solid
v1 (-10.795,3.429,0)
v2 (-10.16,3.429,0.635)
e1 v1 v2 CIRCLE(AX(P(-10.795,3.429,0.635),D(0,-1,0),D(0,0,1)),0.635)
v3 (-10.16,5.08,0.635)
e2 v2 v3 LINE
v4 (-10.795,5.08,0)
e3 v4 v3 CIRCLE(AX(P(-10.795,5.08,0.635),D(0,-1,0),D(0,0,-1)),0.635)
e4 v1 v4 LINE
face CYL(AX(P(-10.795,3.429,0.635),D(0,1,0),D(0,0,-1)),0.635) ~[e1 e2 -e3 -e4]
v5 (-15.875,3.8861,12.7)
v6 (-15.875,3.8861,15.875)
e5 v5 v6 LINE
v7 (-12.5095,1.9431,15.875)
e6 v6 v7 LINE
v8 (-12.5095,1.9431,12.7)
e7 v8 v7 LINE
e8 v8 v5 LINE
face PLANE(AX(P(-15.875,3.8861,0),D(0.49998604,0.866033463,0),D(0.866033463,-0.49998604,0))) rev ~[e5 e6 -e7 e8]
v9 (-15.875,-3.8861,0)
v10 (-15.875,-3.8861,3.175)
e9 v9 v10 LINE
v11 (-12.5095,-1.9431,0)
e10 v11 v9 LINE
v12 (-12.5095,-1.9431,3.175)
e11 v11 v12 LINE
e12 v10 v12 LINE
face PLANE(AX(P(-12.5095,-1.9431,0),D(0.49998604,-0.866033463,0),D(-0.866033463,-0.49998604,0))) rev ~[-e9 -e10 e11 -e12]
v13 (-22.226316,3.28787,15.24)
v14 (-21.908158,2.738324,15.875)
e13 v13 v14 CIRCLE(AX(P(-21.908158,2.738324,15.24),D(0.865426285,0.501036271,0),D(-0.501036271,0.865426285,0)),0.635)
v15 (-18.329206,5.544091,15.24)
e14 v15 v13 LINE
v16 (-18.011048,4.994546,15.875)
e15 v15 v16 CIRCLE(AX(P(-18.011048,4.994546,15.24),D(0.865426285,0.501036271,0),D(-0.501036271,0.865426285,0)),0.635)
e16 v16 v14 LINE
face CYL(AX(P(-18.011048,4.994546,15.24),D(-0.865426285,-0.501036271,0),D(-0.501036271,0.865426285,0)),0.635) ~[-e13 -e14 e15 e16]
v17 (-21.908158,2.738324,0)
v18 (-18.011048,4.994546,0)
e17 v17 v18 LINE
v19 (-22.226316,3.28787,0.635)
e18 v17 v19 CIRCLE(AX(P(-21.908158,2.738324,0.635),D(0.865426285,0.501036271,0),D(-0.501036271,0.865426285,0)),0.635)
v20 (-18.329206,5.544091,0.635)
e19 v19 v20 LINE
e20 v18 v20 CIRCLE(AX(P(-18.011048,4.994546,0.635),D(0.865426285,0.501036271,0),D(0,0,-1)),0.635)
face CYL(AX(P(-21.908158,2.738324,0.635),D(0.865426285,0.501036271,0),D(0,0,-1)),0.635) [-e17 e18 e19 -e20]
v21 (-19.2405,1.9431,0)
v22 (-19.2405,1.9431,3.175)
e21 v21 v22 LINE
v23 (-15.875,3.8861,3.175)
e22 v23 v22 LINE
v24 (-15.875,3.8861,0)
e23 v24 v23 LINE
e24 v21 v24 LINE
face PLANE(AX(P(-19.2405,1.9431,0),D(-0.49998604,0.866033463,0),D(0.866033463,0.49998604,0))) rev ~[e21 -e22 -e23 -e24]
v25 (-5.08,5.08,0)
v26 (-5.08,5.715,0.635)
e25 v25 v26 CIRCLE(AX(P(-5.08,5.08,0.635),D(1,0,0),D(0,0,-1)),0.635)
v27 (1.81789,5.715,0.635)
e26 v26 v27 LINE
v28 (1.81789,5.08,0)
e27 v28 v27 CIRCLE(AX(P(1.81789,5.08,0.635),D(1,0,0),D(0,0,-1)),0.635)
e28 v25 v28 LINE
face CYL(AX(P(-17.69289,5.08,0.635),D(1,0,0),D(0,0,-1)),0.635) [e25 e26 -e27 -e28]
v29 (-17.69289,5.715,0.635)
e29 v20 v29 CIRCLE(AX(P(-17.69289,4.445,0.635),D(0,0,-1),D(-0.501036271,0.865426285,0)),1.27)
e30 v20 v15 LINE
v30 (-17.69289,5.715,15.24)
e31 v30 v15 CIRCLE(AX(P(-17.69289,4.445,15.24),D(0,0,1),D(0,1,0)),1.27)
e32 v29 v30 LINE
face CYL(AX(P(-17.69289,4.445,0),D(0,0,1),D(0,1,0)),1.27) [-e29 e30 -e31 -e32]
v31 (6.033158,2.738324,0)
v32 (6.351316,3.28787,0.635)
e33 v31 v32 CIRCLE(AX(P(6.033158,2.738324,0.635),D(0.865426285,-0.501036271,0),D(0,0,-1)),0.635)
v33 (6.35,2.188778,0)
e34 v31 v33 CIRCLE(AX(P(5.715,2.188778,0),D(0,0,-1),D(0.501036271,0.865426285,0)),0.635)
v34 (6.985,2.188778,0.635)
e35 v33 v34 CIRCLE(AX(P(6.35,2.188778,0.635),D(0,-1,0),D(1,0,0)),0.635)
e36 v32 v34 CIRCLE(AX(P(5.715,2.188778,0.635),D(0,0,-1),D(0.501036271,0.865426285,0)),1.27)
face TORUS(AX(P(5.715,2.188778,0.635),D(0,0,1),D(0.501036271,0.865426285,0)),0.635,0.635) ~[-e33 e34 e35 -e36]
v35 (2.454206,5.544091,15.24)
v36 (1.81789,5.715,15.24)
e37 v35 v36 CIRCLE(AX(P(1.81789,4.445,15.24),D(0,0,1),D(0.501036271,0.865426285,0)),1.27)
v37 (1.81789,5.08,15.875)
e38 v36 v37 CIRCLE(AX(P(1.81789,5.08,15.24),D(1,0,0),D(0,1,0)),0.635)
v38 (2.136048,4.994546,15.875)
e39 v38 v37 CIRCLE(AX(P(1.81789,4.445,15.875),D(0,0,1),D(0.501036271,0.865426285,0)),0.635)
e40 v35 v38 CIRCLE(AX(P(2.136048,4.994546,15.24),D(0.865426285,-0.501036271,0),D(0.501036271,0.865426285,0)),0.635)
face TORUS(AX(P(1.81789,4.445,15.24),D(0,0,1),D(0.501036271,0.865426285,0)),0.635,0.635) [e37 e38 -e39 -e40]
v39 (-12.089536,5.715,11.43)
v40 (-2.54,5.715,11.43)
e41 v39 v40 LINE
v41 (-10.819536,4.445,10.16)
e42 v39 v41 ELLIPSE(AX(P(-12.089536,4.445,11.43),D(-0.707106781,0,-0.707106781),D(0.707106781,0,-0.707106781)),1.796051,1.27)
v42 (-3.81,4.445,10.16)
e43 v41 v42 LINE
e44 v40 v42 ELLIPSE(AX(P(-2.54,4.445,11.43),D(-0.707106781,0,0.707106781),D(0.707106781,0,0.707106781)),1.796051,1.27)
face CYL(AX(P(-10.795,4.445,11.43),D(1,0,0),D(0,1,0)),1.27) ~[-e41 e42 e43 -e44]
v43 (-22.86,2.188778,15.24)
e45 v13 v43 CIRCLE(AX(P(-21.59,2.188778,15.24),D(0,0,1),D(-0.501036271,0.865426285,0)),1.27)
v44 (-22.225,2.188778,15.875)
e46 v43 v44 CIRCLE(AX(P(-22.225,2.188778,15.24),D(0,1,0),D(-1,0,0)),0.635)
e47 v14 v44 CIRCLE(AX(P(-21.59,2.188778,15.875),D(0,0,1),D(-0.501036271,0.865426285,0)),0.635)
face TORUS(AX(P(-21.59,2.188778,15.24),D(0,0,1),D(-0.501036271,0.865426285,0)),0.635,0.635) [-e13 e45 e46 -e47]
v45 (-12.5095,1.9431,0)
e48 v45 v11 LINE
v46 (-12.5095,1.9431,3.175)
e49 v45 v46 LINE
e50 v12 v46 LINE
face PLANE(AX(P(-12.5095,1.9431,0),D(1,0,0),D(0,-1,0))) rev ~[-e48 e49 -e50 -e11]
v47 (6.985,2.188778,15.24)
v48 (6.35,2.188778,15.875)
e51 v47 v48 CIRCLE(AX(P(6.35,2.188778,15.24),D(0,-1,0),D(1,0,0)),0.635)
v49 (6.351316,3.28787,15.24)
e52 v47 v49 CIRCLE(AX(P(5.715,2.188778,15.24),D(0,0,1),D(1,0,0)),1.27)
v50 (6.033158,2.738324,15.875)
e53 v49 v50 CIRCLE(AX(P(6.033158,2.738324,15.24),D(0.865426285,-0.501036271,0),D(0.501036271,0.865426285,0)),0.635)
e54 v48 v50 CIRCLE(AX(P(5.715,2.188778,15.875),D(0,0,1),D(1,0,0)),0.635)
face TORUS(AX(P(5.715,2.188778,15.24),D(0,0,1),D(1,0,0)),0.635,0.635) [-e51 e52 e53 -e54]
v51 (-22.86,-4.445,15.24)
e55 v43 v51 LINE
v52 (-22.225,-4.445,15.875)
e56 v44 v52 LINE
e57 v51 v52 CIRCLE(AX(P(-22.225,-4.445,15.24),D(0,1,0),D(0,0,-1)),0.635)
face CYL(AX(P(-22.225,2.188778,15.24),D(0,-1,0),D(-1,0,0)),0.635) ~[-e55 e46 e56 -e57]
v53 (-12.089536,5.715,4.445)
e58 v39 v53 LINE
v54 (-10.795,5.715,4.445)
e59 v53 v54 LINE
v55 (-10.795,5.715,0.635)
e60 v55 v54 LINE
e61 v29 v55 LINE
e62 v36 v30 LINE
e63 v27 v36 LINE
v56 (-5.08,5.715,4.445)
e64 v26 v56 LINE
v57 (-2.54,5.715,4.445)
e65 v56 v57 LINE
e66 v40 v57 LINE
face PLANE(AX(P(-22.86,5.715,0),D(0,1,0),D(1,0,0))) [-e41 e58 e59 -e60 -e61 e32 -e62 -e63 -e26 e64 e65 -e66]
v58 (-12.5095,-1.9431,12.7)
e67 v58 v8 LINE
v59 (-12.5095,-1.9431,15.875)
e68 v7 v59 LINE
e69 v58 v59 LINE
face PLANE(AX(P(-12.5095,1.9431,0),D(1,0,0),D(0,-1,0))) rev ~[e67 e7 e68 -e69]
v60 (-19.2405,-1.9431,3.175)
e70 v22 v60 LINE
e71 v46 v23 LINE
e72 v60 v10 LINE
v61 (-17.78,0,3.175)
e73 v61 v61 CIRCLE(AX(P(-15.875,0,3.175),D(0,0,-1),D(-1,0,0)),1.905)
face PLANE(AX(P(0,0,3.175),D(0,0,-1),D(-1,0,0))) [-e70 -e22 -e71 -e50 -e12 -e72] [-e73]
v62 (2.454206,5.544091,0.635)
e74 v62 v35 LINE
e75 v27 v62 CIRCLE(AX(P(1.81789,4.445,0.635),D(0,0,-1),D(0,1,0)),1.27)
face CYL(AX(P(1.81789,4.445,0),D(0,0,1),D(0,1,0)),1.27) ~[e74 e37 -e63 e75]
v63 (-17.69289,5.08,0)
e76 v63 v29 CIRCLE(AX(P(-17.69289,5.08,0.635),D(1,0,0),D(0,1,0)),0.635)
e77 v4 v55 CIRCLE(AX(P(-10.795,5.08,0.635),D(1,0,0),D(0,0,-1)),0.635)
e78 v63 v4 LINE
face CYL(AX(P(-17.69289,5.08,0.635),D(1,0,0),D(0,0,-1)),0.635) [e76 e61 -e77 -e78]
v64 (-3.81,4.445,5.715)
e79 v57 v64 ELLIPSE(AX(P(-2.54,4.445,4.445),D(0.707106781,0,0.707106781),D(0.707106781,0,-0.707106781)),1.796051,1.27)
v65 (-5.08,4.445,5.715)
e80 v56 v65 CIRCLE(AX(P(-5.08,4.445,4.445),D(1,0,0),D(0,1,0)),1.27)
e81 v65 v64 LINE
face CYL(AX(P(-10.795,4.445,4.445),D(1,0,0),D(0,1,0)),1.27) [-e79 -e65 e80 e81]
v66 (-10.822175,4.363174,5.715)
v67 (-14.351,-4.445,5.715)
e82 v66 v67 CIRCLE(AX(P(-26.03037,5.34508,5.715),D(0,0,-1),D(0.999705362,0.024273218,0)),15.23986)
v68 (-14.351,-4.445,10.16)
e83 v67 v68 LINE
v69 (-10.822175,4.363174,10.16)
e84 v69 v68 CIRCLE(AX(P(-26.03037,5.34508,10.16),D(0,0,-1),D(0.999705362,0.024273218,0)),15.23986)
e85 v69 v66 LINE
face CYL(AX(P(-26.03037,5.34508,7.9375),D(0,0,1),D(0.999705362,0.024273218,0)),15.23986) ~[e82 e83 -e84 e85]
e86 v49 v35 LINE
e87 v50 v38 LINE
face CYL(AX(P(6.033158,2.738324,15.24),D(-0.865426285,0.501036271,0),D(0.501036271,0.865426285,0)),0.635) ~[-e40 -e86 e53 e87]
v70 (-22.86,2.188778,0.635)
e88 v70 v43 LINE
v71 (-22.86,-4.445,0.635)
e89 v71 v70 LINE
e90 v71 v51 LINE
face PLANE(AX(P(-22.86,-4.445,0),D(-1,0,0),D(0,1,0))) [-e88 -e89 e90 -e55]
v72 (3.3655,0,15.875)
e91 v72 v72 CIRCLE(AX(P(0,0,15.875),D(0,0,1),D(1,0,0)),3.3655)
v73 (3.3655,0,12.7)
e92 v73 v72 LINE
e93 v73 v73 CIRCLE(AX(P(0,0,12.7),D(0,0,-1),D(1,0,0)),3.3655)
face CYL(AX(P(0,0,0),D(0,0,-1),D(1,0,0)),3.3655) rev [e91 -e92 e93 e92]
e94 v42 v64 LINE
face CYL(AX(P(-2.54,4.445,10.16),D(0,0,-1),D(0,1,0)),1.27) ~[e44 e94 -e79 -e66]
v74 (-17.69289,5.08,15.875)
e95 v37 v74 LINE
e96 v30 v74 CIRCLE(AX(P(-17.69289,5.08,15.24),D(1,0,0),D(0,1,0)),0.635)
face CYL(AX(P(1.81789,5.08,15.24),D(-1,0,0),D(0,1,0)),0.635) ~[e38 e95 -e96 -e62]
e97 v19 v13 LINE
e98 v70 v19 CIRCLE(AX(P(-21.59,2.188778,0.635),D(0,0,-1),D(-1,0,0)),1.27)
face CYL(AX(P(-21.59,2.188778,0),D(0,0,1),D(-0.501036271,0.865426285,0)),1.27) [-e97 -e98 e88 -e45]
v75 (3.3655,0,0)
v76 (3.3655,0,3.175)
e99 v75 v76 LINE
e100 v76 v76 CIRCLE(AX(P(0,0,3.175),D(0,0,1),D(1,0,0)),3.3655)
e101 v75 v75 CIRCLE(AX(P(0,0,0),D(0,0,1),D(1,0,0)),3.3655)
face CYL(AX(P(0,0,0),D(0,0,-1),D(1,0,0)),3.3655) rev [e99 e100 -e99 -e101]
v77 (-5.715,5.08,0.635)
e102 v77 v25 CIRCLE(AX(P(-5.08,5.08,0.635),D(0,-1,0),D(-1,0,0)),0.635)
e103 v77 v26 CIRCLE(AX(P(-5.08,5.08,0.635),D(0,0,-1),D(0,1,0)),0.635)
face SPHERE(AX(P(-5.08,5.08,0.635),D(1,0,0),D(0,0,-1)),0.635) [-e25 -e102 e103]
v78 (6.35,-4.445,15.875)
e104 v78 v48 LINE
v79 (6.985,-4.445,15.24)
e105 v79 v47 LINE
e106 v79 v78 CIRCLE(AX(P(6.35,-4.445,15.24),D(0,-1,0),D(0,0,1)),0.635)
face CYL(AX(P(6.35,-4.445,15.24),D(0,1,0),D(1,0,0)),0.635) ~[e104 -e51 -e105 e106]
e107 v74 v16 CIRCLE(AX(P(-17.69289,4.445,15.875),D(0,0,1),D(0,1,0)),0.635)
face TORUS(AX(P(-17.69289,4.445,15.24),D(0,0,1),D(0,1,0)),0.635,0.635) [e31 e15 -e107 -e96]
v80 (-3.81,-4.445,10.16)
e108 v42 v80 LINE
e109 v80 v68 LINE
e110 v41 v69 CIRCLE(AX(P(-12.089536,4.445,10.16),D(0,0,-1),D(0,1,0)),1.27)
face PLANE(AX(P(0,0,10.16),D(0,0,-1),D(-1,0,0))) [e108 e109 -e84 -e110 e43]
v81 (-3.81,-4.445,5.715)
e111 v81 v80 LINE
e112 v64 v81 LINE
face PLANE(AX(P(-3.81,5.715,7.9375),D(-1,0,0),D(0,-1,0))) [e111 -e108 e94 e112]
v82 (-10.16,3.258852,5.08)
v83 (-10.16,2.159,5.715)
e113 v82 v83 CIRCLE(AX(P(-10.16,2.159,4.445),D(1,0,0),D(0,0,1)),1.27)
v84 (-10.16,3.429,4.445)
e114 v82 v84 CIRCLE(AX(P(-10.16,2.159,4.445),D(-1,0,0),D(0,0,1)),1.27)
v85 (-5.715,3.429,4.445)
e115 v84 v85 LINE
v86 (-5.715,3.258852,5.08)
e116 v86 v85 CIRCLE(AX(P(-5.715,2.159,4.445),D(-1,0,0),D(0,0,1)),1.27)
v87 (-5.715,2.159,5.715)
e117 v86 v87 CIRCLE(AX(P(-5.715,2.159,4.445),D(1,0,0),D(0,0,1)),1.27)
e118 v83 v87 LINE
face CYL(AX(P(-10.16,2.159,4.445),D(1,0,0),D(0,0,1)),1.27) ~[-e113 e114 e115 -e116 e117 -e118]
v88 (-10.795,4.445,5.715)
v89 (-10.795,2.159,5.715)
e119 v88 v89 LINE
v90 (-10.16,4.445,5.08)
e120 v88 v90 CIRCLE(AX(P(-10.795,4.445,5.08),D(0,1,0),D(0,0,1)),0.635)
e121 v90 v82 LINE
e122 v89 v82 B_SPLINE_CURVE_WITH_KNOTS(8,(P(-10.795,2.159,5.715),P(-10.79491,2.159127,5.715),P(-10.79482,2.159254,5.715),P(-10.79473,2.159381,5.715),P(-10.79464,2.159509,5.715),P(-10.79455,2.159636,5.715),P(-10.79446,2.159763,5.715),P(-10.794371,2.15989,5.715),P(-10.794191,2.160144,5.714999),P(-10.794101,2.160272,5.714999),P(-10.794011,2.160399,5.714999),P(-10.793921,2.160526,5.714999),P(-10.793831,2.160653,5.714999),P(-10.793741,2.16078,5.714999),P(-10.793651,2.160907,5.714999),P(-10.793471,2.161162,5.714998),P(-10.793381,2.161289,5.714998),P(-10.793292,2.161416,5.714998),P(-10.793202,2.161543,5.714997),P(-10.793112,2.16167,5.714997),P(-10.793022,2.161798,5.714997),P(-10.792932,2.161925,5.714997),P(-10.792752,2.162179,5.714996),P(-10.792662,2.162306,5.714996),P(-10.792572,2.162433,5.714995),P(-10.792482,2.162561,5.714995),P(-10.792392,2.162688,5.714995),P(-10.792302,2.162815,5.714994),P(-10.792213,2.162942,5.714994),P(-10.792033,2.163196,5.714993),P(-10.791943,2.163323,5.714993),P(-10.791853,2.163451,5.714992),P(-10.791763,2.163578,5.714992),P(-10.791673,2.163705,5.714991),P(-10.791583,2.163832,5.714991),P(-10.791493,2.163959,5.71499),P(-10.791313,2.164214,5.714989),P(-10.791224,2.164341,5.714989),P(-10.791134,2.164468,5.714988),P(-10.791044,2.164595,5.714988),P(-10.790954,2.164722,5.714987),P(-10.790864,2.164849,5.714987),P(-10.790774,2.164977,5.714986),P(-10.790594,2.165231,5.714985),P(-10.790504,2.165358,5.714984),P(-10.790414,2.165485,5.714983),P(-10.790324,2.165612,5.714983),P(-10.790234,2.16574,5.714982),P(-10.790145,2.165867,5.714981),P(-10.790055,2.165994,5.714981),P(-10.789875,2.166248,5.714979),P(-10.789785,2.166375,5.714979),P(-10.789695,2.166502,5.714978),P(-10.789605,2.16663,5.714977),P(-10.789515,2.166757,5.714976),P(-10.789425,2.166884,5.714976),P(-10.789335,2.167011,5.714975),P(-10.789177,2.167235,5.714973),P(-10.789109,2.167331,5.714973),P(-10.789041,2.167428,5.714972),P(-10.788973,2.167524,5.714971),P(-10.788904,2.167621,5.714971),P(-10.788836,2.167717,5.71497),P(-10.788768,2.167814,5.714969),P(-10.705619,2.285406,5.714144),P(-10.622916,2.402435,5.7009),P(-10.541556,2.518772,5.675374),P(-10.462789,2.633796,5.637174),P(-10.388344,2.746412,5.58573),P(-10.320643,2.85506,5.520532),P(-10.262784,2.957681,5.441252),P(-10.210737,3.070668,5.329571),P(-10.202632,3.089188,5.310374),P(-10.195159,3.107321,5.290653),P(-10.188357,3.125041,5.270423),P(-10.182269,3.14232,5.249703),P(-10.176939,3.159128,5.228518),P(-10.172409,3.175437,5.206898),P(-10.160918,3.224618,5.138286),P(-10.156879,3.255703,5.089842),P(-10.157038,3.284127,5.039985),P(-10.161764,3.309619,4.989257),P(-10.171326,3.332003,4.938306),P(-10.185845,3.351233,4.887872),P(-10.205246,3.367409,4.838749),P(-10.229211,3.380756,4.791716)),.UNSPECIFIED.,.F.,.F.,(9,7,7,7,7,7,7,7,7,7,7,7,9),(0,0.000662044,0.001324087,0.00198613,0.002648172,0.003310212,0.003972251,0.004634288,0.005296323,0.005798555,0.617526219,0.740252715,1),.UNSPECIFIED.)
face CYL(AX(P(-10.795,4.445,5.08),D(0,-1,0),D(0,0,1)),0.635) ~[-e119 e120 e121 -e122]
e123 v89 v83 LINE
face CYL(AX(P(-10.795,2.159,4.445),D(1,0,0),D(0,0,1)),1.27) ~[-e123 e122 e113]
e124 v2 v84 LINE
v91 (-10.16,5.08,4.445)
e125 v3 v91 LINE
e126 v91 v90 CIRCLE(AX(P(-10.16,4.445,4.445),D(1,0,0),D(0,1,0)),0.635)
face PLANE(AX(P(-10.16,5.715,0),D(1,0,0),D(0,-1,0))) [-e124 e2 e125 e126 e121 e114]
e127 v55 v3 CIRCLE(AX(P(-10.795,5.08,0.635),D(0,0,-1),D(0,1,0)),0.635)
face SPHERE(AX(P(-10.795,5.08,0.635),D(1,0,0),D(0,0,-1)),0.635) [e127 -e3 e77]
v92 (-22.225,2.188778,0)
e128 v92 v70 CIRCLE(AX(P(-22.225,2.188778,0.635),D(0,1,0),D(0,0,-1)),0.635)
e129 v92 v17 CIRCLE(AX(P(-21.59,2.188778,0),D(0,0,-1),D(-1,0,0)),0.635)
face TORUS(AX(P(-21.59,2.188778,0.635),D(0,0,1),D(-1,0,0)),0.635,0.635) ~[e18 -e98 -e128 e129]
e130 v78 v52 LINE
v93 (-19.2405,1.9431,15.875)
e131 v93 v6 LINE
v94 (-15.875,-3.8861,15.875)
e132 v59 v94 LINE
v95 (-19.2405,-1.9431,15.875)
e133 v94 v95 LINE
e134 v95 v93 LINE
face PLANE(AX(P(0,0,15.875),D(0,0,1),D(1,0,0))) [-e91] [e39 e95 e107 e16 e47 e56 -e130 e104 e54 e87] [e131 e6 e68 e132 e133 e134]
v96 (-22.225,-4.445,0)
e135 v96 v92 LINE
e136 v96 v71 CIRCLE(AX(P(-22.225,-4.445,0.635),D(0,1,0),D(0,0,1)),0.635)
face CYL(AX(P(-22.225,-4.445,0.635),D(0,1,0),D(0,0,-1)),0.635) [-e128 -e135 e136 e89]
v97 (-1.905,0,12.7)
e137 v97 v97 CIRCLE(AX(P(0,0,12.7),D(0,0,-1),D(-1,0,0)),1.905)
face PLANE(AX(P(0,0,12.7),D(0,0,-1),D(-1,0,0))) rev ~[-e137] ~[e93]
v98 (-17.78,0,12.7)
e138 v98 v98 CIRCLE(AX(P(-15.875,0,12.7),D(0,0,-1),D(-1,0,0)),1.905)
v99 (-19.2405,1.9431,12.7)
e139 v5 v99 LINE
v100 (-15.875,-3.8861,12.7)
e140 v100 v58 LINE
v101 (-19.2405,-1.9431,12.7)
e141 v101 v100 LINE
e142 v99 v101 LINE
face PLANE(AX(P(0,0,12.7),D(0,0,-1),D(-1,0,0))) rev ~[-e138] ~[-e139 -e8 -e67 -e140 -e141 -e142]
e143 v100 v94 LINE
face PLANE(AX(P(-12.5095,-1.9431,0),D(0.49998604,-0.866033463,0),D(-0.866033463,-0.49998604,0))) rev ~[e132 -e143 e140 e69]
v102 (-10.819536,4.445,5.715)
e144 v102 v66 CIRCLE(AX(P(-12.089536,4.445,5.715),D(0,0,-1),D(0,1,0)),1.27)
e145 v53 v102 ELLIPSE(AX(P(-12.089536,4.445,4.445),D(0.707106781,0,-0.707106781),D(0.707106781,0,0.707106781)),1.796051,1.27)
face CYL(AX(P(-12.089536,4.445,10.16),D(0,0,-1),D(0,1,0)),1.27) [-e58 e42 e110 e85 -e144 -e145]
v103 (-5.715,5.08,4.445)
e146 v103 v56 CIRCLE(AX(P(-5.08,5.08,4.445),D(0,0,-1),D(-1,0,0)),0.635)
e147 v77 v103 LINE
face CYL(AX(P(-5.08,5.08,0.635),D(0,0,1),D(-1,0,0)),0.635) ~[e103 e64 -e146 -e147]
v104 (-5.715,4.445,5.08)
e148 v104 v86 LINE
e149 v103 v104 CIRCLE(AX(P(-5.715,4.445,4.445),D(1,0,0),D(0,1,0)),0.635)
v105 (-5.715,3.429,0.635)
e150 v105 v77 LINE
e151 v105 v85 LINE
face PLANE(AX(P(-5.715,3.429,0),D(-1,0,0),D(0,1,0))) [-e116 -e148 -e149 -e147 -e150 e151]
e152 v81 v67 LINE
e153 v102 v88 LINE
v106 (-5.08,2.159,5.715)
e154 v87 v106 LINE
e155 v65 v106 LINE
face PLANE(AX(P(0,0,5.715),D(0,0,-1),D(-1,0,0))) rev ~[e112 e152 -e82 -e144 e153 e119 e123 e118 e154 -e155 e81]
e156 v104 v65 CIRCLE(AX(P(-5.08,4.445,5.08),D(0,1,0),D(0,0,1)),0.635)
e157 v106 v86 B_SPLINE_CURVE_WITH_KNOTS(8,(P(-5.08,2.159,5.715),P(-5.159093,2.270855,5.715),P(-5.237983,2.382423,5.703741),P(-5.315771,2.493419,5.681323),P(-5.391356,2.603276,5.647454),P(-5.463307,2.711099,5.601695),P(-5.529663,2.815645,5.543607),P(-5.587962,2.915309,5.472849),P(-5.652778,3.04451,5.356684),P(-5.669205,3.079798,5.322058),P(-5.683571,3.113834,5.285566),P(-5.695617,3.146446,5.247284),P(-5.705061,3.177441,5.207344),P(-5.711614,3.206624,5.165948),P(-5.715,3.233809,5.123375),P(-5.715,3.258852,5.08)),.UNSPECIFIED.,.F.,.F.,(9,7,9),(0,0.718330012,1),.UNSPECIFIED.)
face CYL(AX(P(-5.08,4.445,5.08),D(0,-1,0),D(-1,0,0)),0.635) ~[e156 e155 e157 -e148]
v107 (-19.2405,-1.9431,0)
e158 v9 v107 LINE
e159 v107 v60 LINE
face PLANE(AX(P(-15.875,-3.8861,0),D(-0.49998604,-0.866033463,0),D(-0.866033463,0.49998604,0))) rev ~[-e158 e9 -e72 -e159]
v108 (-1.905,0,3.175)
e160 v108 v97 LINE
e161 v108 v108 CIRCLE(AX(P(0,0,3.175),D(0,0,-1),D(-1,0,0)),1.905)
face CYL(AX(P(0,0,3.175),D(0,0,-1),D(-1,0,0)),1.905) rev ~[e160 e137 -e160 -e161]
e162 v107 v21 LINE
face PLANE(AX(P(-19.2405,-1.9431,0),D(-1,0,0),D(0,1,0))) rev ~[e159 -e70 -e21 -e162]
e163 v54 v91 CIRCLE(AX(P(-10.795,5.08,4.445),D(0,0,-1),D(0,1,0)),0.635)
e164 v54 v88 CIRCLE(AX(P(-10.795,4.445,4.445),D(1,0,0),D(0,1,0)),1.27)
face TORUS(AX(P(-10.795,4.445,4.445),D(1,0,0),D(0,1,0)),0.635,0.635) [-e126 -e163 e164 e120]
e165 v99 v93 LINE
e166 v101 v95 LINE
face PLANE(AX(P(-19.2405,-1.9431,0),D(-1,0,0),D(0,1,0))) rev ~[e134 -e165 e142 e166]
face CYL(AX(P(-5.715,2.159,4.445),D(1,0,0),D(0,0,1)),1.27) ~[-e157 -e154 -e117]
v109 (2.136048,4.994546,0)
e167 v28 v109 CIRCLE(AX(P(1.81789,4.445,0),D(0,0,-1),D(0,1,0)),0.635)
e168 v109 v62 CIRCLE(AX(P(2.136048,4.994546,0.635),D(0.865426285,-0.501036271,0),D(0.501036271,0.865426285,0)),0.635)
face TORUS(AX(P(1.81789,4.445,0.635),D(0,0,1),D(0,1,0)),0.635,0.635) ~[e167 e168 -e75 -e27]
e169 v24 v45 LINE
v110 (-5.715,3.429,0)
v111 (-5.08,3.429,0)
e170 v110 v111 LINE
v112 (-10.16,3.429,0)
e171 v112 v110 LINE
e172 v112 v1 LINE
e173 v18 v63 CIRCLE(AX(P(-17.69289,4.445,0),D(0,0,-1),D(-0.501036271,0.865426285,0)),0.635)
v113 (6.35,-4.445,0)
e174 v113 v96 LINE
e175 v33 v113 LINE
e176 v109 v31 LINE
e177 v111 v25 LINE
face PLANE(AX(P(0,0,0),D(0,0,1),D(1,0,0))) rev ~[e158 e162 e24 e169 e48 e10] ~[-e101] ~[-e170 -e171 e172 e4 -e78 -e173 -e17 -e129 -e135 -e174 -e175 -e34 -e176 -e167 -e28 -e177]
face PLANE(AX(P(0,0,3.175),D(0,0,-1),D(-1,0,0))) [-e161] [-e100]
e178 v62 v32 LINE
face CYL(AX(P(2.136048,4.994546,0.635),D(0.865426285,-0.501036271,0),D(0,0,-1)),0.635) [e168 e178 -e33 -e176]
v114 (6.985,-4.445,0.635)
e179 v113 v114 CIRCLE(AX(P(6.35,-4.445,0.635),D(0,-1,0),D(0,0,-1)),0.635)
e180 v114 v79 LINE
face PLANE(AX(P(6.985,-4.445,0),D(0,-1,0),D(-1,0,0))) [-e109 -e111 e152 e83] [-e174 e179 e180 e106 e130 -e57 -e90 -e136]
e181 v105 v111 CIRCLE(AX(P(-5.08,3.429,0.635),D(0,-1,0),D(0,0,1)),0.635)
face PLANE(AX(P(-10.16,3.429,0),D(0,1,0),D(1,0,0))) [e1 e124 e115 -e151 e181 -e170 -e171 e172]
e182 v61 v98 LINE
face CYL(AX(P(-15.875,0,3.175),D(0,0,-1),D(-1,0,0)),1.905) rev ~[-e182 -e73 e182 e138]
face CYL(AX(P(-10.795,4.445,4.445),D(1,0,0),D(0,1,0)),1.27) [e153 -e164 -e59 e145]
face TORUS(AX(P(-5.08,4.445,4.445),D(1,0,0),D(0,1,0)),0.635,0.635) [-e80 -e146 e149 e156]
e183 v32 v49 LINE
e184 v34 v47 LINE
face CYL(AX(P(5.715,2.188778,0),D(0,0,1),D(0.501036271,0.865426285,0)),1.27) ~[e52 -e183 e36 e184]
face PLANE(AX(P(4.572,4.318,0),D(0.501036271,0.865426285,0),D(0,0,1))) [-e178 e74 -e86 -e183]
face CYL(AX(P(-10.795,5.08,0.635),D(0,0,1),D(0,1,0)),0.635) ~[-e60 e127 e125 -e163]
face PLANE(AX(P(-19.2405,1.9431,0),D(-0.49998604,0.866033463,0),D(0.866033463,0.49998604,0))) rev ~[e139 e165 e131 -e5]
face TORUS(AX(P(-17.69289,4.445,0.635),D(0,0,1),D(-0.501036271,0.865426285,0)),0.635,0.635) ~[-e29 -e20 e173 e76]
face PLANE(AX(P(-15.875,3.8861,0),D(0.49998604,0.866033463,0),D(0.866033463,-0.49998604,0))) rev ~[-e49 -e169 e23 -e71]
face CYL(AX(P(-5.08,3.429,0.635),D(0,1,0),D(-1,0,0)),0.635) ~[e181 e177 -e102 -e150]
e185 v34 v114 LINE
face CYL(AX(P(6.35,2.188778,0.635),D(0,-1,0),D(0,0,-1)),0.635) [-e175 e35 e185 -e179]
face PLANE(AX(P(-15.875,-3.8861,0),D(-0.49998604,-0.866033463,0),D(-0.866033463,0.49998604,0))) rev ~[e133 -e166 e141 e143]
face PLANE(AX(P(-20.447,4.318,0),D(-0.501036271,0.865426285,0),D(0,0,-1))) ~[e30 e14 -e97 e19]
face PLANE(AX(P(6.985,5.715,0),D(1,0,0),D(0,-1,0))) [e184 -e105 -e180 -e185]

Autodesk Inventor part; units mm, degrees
ref_plane "YZ Plane" through (0, 0, 0) normal (1, 0, 0) x (0, 1, 0)
sketch "Sketch1" plane through (0, 0, 0) normal (0, 0, 1) x (1, 0, 0)
  circle A0 centre (0, 0) radius 3.3655
  circle A1 centre (0, 0) radius 1.905
  circle A2 centre (-15.875, 0) radius 1.905
  line L0 (-15.875, -3.8861) -> (-19.2405, -1.9431)
  line L1 (-19.2405, -1.9431) -> (-19.2405, 1.9431)
  line L2 (-19.2405, 1.9431) -> (-15.875, 3.8861)
  line L3 (-15.875, 3.8861) -> (-12.5095, 1.9431)
  line L4 (-12.5095, 1.9431) -> (-12.5095, -1.9431)
  line L5 (-12.5095, -1.9431) -> (-15.875, -3.8861)
  line L6 (-22.86, 5.715) -> (6.985, 5.715)
  line L7 (6.985, 5.715) -> (6.985, -4.445)
  line L8 (6.985, -4.445) -> (-22.86, -4.445)
  line L9 (-22.86, -4.445) -> (-22.86, 5.715)
  dimension "d0" = 6.731
  dimension "d1" = 3.81
  dimension "d2" = 3.81
  dimension "d3" = 6.731
  dimension "d4" = 15.875
  dimension "d5" = 10.16
  dimension "d6" = 29.845
  dimension "d30" = 4.445
  dimension "d31" = 6.985
extrude "Extrusion1" add sketch "Sketch1" along normal blind 15.875 contours L6 L7 L8 L9
ref_plane "Work Plane1" through (0, 0, 3.175) normal (0, 0, -1) x (-1, 0, 0)
sketch "Sketch2" plane through (0, 0, 3.175) normal (0, 0, -1) x (-1, 0, 0)
  circle A0 centre (0, 0) radius 1.905 projected
  circle A1 centre (0, 0) radius 3.3655 projected
  circle A2 centre (15.875, 0) radius 1.905 projected
  line L0 (19.2405, 1.9431) -> (19.2405, -1.9431) projected
  line L1 (19.2405, -1.9431) -> (15.875, -3.8861) projected
  line L2 (15.875, -3.8861) -> (12.5095, -1.9431) projected
  line L3 (12.5095, -1.9431) -> (12.5095, 1.9431) projected
  line L4 (12.5095, 1.9431) -> (15.875, 3.8861) projected
  line L5 (15.875, 3.8861) -> (19.2405, 1.9431) projected
  circle A3 centre (0, 0) radius 3.3655 projected
  line L6 (22.86, 5.715) -> (-6.985, 5.715) projected
  line L7 (-6.985, 5.715) -> (-6.985, -4.445) projected
  line L8 (-6.985, -4.445) -> (22.86, -4.445) projected
  line L9 (22.86, -4.445) -> (22.86, 5.715) projected
extrude "Extrusion2" add sketch "Sketch2" against normal blind 9.525 contours A1 | L0 L1 L2 L3 L4 L5
ref_plane "Work Plane2" through (0, 0, 7.9375) normal (0, 0, -1) x (-1, 0, 0)
sketch "Sketch4" plane through (0, 0, 7.9375) normal (0, 0, -1) x (-1, 0, 0)
  circle A0 centre (0, 0) radius 1.905 construction
  circle A1 centre (15.875, 0) radius 1.905 construction
  line L0 (-6.985, -4.445) -> (-6.985, 5.715) construction
  line L1 (-6.985, 5.715) -> (22.86, 5.715) construction
  line L2 (22.86, 5.715) -> (22.86, -4.445) construction
  line L3 (22.86, -4.445) -> (-6.985, -4.445) construction
  line L4 (22.86, 5.715) -> (-6.985, 5.715) projected
  line L5 (-6.985, -4.445) -> (22.86, -4.445) projected
  arc A2 (10.795, 5.715) -> (14.351, -4.445) centre (26.0305, 5.3451) ccw
  line L6 (10.795, 5.715) -> (3.81, 5.715)
  line L7 (3.81, 5.715) -> (3.81, -4.445)
  line L8 (3.81, -4.445) -> (14.351, -4.445)
  dimension "d14" = 15.24
  dimension "d15" = 12.065
  dimension "d16" = 8.509
  dimension "d17" = 10.795
extrude "Extrusion3" cut sketch "Sketch4" along normal mid plane 4.445
fillet "Fillet4" radius 1.27 4 edges at (-7.3025, 5.715, 5.715) (-7.3025, 5.715, 10.16) (-3.81, 5.715, 7.9375) (-10.795, 5.715, 7.9375)
chamfer "Chamfer1" distance 4.826 distance2 2.794 1 edges at (-22.86, 5.715, 7.9375) measured on face at (-19.2698, 5.715, 6.7733)
chamfer "Chamfer2" distance 4.826 distance2 2.794 1 edges at (6.985, 5.715, 7.9375) measured on face at (3.81, 5.715, 9.1017)
fillet "Fillet5" radius 1.27 4 edges at (-18.034, 5.715, 7.9375) (-22.86, 2.921, 7.9375) (2.159, 5.715, 7.9375) (6.985, 2.921, 7.9375)
fillet "Fillet6" radius 0.635 18 edges at (-18.0223, 5.6715, 15.875) (-20.2778, 4.416, 15.875) (-22.6902, 2.8231, 15.875) (-22.86, -1.1281, 15.875) (2.1473, 5.6715, 15.875) (4.4028, 4.416, 15.875) (6.8152, 2.8231, 15.875) (6.985, -1.1281, 15.875) (-7.9375, 5.715, 15.875) (2.1473, 5.6715, 0) (4.4028, 4.416, 0) (6.8152, 2.8231, 0) (6.985, -1.1281, 0) (-18.0223, 5.6715, 0) (-20.2778, 4.416, 0) (-22.6902, 2.8231, 0) (-22.86, -1.1281, 0) (-7.9375, 5.715, 0)
sketch "Sketch5" plane through (0, 0, 0) normal (0, 0, -1) x (-1, 0, 0)
  line L0 (5.715, 5.715) -> (10.16, 5.715)
  line L1 (10.16, 5.715) -> (10.16, 3.429)
  line L2 (10.16, 3.429) -> (5.715, 3.429)
  line L3 (5.715, 3.429) -> (5.715, 5.715)
  circle A0 centre (15.875, 0) radius 1.905 construction
  circle A1 centre (0, 0) radius 1.905 construction
  line L4 (0, 0) -> (15.875, 0) construction
  line L5 (17.6929, 5.715) -> (-1.8179, 5.715) construction
  point P0 (7.9375, 3.429)
  point P1 (7.9375, 0)
  dimension "d32" = 4.445
  dimension "d33" = 2.286
extrude "Extrusion4" cut sketch "Sketch5" against normal up to surface (5.715 mm away)
fillet "Fillet7" radius 0.635 10 edges at (-5.715, 5.529, 0.186) (-5.715, 5.715, 2.54) (-5.715, 5.343, 5.343) (-5.715, 3.937, 5.715) (-5.715, 4.2545, 0) (-10.16, 5.529, 0.186) (-10.16, 5.715, 2.54) (-10.16, 5.343, 5.343) (-10.16, 3.937, 5.715) (-10.16, 4.2545, 0)
fillet "Fillet8" radius 1.27 1 edges at (-7.9375, 3.429, 5.715)
equation "\"d31\" = -0.5 * d4 + 0.5 * d6"
properties part number "CarriageImproved" material "ABS Plastic"
